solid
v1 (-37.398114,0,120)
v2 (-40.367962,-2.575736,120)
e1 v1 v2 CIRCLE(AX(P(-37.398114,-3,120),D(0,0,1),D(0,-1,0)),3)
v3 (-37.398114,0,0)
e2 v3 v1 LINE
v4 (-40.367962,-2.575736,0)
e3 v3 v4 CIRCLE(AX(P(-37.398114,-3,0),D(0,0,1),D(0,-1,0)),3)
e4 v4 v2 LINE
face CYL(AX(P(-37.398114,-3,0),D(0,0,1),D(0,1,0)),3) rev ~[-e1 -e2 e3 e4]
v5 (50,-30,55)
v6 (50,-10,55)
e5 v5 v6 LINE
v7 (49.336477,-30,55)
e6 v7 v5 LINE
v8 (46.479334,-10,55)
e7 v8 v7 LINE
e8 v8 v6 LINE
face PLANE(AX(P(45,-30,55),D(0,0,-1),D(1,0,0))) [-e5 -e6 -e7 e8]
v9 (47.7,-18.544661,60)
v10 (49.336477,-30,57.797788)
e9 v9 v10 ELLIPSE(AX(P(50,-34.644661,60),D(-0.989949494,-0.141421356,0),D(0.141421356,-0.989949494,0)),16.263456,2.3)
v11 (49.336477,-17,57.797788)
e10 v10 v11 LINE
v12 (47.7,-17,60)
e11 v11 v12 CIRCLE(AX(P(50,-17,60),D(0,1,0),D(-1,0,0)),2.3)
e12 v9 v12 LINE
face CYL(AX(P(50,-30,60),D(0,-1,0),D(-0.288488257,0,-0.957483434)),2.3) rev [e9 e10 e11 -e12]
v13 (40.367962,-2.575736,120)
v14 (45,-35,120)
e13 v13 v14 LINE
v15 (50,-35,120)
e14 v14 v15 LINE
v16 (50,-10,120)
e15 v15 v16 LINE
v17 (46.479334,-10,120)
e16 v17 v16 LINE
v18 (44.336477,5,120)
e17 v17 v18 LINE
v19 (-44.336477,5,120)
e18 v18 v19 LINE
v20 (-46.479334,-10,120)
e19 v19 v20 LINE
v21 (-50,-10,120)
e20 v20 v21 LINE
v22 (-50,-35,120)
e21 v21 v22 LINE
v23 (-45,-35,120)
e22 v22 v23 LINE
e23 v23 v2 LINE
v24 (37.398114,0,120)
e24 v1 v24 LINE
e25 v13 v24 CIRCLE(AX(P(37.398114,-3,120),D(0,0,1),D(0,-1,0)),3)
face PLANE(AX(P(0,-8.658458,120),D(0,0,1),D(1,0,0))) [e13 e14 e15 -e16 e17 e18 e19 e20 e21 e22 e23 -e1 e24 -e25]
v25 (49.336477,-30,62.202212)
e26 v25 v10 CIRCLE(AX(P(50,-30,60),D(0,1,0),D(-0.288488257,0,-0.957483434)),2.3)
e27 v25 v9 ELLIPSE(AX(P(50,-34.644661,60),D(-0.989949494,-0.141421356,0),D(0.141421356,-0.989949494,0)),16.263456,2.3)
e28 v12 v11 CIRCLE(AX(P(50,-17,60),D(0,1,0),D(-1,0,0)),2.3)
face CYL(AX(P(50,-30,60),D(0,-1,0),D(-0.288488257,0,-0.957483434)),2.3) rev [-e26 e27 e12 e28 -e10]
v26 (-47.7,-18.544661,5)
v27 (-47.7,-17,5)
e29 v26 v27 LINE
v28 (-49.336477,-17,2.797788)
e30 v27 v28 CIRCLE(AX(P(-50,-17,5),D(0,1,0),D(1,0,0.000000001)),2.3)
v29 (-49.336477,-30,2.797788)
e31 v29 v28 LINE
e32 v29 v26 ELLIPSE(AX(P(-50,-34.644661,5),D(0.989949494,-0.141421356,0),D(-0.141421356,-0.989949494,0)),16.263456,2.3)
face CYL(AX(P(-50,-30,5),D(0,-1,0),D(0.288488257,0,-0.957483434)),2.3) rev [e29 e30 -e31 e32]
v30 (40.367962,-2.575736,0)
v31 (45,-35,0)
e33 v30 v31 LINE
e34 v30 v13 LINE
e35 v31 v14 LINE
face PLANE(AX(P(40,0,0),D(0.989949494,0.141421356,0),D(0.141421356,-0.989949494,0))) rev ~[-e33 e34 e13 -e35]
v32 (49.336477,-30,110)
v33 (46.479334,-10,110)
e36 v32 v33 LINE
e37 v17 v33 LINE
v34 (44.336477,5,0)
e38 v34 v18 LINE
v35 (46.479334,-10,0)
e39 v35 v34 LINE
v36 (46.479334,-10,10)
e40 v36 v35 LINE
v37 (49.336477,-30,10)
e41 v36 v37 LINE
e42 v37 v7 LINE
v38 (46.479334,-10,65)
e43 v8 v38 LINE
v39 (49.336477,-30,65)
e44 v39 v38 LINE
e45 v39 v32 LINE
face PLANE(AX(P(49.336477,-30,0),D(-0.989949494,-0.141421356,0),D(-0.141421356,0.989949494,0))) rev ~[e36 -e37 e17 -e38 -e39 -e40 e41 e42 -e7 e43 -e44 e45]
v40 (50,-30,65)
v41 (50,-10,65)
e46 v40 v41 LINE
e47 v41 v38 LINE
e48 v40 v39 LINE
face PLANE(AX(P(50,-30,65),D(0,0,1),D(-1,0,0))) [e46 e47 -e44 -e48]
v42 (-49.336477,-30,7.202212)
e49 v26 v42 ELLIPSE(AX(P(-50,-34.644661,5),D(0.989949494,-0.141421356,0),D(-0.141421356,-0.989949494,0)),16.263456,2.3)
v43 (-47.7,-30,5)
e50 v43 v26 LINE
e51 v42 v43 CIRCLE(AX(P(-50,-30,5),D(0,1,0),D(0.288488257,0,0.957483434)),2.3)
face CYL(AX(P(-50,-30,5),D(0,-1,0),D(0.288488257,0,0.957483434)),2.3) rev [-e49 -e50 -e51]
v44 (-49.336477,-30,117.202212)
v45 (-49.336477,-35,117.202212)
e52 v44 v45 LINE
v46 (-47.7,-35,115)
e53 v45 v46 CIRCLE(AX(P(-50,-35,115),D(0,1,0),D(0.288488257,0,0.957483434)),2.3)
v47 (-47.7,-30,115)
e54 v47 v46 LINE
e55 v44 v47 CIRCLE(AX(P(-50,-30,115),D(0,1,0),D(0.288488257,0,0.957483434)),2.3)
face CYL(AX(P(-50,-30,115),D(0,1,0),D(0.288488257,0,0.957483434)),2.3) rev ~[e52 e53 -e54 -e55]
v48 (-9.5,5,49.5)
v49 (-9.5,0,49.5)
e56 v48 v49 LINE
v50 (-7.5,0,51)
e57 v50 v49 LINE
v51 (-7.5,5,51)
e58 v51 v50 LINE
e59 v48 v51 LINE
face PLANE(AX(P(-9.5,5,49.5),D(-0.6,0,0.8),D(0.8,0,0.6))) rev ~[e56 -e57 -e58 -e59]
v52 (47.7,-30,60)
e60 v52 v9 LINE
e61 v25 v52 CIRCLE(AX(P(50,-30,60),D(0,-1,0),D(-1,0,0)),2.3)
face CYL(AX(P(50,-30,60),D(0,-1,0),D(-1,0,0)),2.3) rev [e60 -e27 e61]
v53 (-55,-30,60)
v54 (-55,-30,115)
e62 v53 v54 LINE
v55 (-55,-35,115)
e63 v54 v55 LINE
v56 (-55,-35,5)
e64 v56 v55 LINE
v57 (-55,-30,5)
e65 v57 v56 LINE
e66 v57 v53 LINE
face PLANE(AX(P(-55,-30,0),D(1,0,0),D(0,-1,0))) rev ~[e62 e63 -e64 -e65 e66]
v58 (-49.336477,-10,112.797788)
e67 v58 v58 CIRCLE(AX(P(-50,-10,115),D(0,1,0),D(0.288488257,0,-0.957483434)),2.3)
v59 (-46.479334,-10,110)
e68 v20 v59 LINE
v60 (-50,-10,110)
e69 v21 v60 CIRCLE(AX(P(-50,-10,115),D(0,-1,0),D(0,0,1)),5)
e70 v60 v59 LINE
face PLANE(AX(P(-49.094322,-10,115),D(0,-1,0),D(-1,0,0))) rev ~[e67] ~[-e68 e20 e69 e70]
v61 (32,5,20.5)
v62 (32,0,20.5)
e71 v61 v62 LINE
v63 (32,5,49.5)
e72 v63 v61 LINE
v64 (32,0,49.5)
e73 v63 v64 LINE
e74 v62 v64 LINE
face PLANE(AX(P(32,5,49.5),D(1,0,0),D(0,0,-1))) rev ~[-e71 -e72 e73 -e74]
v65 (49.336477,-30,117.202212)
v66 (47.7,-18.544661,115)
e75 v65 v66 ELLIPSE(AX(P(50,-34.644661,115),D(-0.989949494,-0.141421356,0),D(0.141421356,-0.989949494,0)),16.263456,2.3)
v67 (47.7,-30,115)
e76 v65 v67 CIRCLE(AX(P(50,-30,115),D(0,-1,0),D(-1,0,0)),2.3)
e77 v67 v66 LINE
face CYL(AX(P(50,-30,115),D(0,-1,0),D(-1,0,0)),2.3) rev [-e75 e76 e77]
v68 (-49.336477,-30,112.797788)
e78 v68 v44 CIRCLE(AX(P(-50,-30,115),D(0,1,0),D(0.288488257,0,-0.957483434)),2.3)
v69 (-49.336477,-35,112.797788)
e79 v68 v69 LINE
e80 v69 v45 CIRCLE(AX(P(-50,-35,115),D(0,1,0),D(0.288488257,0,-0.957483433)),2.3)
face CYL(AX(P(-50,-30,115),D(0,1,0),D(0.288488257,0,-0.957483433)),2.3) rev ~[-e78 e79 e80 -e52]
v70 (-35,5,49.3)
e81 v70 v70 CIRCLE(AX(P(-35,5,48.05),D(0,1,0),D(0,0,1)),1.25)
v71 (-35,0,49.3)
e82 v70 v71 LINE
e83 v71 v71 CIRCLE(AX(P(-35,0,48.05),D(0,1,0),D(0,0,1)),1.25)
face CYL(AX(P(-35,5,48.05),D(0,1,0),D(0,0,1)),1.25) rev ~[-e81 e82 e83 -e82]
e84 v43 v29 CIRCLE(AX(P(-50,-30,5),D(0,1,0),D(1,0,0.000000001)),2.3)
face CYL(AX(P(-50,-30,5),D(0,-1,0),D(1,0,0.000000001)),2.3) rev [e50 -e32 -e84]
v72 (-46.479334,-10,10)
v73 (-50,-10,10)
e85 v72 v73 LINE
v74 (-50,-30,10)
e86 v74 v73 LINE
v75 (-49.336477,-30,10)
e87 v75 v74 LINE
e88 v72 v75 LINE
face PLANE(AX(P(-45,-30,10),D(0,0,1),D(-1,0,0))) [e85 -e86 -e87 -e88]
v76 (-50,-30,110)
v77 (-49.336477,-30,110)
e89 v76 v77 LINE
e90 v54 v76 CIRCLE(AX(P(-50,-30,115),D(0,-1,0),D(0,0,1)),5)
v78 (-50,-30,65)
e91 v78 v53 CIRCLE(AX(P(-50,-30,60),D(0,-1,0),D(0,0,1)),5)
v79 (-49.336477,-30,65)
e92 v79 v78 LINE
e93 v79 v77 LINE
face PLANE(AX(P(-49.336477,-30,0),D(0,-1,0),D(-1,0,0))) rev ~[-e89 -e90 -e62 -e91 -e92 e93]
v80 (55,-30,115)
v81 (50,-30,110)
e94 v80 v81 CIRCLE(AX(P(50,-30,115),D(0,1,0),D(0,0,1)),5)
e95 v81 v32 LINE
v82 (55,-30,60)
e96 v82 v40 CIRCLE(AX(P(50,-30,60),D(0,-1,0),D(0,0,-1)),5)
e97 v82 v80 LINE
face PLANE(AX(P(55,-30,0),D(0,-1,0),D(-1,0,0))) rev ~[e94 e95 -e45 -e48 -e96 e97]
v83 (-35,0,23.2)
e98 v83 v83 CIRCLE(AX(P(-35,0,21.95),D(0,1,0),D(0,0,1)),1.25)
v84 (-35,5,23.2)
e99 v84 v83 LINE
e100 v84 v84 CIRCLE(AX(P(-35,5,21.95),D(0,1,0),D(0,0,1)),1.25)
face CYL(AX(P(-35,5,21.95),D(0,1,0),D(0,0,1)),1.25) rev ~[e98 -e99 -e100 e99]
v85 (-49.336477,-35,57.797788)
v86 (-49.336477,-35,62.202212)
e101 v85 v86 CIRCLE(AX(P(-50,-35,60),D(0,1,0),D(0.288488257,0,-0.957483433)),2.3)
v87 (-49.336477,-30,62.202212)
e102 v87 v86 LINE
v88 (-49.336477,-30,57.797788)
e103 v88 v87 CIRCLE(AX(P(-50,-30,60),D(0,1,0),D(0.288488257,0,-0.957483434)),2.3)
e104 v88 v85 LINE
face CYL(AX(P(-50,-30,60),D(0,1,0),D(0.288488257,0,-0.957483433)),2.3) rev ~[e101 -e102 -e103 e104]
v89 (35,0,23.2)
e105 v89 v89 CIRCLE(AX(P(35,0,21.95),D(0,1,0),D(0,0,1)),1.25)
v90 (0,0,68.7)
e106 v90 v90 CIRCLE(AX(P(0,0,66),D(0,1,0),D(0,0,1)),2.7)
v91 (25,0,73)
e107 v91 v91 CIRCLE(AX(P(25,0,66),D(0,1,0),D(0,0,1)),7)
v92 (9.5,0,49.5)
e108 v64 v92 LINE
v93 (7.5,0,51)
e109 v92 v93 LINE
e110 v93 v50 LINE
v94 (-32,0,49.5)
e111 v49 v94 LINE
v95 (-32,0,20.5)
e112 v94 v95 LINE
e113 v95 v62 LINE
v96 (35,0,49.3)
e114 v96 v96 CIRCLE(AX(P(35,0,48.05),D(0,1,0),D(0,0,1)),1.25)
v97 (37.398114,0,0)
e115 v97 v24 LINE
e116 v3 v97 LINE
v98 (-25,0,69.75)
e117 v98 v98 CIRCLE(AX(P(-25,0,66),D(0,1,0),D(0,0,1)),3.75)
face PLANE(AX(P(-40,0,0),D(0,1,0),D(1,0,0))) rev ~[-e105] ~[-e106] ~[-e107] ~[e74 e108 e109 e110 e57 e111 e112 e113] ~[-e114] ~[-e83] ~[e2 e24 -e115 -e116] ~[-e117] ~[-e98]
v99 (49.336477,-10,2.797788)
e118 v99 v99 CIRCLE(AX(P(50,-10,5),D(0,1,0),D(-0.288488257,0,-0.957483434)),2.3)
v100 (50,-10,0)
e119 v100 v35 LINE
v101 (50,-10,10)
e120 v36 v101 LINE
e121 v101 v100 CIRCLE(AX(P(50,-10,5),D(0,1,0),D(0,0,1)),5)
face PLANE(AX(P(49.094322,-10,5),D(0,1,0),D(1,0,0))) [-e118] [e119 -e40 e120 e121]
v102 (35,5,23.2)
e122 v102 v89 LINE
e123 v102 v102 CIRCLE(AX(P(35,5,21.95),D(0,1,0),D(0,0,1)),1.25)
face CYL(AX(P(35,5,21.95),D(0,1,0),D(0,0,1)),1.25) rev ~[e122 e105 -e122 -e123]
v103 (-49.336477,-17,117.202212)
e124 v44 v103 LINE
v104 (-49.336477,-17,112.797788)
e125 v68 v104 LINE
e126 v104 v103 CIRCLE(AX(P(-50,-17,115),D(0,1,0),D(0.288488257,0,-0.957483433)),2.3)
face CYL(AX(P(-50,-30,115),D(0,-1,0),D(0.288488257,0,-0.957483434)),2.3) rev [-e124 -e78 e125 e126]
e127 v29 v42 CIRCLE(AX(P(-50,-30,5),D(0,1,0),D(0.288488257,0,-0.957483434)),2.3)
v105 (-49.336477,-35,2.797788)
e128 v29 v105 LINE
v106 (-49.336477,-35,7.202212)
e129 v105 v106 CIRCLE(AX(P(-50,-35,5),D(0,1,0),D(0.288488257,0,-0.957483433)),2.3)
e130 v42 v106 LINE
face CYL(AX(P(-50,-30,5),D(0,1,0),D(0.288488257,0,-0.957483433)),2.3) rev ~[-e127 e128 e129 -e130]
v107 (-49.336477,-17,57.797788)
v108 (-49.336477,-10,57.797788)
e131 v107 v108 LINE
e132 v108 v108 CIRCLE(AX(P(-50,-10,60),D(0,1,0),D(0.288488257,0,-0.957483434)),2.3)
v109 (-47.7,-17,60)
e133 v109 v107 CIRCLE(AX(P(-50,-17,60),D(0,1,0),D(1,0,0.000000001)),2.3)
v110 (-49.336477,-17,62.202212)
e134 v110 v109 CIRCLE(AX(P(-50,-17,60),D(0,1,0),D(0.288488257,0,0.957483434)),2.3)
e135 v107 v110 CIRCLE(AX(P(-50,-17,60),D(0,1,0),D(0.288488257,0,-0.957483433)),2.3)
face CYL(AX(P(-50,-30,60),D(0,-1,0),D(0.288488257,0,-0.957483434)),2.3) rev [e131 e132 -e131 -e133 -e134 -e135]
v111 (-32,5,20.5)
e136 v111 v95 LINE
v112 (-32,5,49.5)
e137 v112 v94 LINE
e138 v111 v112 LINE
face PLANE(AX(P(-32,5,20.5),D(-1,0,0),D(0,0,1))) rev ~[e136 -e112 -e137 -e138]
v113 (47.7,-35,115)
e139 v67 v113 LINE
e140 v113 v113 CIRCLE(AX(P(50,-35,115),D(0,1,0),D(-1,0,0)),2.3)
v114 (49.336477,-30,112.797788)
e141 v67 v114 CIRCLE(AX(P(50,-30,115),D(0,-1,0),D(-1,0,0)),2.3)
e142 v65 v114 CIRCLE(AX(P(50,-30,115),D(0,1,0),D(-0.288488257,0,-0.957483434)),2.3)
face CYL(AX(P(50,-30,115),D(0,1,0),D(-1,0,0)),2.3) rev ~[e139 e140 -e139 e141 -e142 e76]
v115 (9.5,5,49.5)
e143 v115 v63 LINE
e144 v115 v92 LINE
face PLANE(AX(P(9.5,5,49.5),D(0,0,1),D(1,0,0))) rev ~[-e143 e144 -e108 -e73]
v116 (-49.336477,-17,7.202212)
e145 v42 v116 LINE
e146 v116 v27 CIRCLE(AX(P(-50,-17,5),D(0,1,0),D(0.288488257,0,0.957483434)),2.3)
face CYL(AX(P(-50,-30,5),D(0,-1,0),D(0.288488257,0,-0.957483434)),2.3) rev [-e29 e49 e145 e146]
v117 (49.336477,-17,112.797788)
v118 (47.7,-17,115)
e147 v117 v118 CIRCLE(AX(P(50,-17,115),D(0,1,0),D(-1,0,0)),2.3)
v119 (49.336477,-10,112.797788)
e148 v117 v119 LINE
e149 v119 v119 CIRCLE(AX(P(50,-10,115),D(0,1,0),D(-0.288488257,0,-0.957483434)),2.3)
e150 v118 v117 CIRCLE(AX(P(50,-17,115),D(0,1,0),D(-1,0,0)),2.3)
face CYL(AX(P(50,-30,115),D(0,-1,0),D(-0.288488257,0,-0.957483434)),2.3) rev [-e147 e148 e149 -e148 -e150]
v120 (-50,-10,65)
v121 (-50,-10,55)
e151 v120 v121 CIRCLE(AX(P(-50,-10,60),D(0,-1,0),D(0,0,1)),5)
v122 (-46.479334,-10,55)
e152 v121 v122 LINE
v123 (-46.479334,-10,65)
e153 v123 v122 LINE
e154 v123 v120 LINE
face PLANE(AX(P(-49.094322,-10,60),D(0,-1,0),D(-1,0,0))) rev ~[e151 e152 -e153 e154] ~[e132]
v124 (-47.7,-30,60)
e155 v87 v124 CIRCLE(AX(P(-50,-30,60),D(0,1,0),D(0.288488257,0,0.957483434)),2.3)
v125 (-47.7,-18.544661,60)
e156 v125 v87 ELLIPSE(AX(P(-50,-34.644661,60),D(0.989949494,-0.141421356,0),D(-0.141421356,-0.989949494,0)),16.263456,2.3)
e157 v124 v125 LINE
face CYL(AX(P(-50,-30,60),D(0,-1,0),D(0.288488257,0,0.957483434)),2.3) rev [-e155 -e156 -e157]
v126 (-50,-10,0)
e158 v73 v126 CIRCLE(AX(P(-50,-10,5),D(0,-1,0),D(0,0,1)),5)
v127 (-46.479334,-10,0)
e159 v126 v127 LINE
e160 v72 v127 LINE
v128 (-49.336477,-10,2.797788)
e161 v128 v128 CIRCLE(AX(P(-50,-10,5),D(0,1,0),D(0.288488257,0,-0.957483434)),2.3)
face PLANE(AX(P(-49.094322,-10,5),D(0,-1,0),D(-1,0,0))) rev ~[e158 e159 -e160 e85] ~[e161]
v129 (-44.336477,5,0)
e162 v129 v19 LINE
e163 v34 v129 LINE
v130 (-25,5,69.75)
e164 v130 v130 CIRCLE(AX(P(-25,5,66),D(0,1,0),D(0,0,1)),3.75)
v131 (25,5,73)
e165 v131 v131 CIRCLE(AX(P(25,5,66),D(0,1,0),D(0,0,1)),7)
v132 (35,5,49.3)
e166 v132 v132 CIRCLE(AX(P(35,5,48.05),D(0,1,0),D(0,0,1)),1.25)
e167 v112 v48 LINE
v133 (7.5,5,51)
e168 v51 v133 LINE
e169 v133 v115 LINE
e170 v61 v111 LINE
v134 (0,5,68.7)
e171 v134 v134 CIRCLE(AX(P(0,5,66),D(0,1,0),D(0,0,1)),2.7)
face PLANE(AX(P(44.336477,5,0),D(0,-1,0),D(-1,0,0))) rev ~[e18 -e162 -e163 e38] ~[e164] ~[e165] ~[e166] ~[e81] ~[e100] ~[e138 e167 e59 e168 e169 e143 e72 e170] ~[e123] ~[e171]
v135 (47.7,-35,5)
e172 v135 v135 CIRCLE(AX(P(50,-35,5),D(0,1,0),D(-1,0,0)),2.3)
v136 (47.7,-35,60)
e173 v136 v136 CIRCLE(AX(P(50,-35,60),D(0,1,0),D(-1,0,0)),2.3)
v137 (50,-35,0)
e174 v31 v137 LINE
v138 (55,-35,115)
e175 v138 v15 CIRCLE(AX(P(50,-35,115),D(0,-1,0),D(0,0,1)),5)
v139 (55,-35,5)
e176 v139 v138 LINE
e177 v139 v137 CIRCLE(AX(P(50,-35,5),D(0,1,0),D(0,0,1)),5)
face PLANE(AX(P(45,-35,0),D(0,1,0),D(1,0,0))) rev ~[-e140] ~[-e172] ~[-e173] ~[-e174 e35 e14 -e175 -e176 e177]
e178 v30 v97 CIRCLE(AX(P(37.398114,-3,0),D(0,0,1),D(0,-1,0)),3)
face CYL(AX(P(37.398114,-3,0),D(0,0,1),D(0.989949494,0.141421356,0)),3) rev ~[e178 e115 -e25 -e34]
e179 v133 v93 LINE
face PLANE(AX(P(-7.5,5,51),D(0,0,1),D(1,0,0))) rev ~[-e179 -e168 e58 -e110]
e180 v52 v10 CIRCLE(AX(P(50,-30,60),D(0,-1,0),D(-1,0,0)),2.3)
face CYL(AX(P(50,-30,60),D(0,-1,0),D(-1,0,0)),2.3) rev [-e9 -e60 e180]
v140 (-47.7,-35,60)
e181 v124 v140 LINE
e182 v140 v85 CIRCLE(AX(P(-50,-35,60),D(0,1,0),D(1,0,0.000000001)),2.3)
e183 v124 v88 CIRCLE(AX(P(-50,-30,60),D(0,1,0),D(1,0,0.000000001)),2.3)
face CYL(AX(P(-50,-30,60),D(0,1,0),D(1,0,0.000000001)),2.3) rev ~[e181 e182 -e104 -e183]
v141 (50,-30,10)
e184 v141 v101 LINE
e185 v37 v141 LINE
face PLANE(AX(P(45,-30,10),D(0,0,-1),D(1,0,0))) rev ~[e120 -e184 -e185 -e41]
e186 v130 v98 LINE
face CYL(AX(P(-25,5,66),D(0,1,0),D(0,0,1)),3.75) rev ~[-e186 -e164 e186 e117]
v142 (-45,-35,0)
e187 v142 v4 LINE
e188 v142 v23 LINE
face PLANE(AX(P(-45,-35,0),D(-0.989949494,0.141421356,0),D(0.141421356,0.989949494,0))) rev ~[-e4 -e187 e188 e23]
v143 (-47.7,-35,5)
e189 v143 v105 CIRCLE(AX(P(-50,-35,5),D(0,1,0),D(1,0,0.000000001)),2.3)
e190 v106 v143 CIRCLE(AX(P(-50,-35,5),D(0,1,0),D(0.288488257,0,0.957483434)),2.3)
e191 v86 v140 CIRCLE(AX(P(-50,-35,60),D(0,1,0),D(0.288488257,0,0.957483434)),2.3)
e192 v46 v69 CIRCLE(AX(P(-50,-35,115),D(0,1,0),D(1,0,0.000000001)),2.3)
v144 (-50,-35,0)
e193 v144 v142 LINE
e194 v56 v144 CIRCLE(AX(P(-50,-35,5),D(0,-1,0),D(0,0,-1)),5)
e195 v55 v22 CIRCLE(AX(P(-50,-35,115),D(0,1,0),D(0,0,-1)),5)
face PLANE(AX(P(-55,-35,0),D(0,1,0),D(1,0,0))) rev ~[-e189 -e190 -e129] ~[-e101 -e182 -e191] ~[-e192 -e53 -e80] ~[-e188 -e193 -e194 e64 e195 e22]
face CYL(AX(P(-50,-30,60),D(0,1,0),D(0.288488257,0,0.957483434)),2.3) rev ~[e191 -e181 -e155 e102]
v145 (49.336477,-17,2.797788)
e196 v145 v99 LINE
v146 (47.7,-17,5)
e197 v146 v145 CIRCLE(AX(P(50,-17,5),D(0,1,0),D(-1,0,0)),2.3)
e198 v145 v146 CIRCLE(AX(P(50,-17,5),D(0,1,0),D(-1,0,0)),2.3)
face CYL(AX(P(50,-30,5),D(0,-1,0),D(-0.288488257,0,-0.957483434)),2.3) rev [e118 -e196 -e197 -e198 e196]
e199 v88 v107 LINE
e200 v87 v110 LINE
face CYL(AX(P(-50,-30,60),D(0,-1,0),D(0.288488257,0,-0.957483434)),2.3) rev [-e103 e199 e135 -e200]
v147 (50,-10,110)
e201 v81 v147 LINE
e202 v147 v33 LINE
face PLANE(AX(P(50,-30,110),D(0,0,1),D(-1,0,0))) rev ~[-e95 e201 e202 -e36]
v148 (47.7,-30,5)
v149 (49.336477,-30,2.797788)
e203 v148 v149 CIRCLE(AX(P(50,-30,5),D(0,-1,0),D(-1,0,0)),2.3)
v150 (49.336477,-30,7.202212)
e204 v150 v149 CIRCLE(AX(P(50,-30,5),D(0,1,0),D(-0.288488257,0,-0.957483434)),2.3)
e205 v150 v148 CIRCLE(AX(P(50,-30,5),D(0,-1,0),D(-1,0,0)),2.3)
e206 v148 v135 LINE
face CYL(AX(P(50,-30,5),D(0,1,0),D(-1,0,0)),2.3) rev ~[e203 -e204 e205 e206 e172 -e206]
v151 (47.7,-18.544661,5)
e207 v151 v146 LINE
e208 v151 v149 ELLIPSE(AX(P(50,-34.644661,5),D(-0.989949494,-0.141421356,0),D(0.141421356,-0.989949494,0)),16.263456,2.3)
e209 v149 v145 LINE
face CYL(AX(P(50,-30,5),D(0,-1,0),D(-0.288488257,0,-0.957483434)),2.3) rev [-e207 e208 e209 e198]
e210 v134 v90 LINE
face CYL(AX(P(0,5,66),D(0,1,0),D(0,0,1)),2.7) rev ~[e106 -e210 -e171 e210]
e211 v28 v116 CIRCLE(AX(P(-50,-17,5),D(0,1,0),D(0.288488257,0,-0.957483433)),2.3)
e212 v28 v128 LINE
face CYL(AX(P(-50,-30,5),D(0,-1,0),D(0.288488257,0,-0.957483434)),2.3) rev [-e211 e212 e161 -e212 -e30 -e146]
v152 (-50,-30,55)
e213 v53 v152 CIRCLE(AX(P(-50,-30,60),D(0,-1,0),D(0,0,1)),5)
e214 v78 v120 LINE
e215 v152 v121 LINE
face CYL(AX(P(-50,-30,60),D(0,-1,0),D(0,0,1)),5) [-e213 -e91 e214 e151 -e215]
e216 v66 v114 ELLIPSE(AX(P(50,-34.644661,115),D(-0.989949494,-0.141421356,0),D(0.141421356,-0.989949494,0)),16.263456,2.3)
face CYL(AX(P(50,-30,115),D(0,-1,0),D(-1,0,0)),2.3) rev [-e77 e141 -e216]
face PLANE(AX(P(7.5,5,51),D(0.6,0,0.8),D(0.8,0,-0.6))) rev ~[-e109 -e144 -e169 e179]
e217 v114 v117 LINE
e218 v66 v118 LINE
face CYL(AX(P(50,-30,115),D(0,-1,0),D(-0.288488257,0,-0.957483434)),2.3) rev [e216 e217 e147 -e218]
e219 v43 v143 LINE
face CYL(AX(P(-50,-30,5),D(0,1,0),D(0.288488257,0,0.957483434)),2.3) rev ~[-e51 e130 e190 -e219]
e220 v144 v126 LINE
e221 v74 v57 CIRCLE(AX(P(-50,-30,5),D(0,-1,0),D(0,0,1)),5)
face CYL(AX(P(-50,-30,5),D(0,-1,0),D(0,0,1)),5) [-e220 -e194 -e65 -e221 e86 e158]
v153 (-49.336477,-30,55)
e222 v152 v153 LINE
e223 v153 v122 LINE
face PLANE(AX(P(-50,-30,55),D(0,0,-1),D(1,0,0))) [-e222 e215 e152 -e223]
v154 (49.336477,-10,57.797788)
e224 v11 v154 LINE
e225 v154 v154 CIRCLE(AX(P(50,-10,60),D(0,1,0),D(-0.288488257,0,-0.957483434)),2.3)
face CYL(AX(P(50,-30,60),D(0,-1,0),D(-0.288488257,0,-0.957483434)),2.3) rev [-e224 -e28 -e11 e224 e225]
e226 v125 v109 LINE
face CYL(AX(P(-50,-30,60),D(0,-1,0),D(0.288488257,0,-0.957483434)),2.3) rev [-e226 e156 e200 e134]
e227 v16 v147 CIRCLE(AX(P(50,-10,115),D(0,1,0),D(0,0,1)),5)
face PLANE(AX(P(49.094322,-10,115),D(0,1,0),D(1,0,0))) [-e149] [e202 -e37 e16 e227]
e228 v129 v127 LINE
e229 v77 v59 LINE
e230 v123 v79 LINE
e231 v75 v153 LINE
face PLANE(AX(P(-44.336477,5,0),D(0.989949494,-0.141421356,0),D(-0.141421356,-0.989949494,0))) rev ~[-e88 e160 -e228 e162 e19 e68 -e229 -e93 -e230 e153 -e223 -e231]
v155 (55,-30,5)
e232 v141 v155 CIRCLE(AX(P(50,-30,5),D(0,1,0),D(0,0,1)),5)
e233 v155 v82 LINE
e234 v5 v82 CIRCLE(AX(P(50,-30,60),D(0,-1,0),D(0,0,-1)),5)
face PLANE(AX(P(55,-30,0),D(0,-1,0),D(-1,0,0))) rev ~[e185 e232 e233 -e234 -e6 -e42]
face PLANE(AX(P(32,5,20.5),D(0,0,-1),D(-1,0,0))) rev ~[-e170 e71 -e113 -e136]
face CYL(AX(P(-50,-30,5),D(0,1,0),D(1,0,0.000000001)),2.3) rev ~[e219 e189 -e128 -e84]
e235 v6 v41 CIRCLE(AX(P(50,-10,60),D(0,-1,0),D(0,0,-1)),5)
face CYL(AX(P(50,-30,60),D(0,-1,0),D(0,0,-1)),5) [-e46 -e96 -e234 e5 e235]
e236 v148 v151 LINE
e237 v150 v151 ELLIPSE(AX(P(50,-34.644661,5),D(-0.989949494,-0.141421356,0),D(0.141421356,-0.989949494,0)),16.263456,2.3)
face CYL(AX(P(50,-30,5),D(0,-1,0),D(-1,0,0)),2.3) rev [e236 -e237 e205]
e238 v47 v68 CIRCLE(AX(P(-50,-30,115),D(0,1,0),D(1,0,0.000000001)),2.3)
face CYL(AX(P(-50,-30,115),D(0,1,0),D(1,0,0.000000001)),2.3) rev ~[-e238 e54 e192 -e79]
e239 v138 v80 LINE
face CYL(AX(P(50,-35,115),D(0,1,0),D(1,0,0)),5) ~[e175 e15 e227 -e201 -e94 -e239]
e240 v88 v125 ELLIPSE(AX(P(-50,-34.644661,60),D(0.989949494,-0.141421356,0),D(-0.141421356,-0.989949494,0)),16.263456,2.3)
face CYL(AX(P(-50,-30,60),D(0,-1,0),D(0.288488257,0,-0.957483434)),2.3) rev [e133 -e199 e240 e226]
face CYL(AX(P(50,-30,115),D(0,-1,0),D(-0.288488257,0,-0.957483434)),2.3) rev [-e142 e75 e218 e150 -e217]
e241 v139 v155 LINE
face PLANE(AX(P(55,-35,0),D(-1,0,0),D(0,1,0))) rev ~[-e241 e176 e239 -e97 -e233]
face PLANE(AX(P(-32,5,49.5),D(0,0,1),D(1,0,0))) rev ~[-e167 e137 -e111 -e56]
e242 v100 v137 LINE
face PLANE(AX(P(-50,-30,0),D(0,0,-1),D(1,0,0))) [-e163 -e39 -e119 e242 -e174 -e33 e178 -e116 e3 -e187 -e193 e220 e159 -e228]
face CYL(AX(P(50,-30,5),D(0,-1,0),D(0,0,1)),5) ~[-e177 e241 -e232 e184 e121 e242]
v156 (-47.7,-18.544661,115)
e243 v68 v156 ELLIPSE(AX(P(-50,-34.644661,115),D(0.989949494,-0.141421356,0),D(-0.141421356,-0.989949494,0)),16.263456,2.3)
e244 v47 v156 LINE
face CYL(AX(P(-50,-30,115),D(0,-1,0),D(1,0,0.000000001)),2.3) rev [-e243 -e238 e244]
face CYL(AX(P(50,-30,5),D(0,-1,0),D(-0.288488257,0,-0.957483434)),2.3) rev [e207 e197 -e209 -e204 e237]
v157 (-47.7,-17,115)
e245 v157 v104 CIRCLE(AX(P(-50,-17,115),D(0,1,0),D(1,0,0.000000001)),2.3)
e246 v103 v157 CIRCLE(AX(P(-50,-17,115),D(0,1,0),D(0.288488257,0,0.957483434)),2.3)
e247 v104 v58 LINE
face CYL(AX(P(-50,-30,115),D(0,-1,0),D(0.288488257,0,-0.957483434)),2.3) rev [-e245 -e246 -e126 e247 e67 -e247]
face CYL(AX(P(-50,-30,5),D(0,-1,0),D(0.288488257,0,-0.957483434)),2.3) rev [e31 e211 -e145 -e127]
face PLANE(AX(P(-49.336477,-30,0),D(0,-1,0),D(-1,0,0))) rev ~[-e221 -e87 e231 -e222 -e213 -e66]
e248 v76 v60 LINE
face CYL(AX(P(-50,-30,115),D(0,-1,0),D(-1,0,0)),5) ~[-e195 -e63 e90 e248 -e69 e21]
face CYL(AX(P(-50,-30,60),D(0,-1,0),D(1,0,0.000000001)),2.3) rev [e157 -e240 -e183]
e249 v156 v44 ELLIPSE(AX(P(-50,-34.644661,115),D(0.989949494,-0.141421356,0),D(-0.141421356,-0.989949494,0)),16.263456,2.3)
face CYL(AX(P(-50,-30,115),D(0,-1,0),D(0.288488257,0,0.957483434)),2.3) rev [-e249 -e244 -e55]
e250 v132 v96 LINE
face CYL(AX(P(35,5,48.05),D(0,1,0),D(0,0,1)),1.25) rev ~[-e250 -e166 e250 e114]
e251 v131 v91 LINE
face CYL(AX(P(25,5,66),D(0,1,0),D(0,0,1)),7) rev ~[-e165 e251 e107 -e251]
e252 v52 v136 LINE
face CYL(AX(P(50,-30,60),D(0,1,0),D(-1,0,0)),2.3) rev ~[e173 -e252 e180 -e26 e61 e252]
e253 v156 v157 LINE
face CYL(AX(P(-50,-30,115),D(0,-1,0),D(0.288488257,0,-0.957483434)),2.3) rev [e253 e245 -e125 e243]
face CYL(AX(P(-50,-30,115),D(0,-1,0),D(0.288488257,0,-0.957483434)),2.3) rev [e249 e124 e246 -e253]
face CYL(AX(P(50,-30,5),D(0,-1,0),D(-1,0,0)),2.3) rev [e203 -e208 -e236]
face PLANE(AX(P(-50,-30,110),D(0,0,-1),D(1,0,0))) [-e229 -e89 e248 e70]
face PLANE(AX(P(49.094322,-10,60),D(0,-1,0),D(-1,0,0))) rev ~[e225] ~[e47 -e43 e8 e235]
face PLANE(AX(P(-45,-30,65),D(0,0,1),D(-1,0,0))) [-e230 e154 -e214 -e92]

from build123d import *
from build123d.topology import SkipClean

# Parameters (mm, degrees)
BOSS_EXTRUDE1_DEPTH            = 120
FILLET1_R                      = 5
CUT_EXTRUDE1_REACH             = 139.931
SKETCH2_R                      = 1.25
SKETCH2_R_2                    = 7
SKETCH2_R_3                    = 2.7
SKETCH2_R_4                    = 3.75
SKETCH3_R                      = 2.3
BOSS_EXTRUDE2_DEPTH            = 20
CUT_EXTRUDE2_REACH             = 138.565
SKETCH3_4_R                    = 2.3
CUT_EXTRUDE2_DIRECTION_2_DEPTH = 13
FILLET2_R                      = 3


with BuildPart() as part:
    # Sketch1 → Boss-Extrude1 (new body)
    with BuildSketch(Plane.XY):
        Polygon((-45, -35), (-40, 0), (40, 0), (45, -35), (55, -35), (55, -30), (49.336477008, -30), (44.336477008, 5), (-44.336477008, 5), (-49.336477008, -30), (-55, -30), (-55, -35), align=None)
    extrude(amount=BOSS_EXTRUDE1_DEPTH)

    # Fillet1
    fillet1_edges = [part.edges().sort_by_distance(p)[0] for p in [
        (-55, -32.5, 0),
        (55, -32.5, 0),
        (55, -32.5, 120),
        (-55, -32.5, 120),
    ]]
    fillet(fillet1_edges, radius=FILLET1_R)

    # Sketch2 → Cut-Extrude1 (cut, up to next)
    with BuildSketch(Plane(origin=(0, 5, 0), x_dir=(1, 0, 0), z_dir=(0, 1, 0)), mode=Mode.PRIVATE) as cut_extrude1_sk1:
        Polygon((32, -20.5), (-32, -20.5), (-32, -49.5), (-9.5, -49.5), (-7.5, -51), (7.5, -51), (9.5, -49.5), (32, -49.5), align=None)
    cut_extrude1_tool1 = extrude(cut_extrude1_sk1.sketch, amount=-CUT_EXTRUDE1_REACH, mode=Mode.PRIVATE) & part.part
    # Sketch2 → Cut-Extrude1 (cut, up to next)
    with BuildSketch(Plane(origin=(0, 5, 0), x_dir=(1, 0, 0), z_dir=(0, 1, 0)), mode=Mode.PRIVATE) as cut_extrude1_sk2:
        with Locations(Location((-35, -21.95, 0), (0, 0, 270))):
            Circle(SKETCH2_R)
    cut_extrude1_tool2 = extrude(cut_extrude1_sk2.sketch, amount=-CUT_EXTRUDE1_REACH, mode=Mode.PRIVATE) & part.part
    # Sketch2 → Cut-Extrude1 (cut, up to next)
    with BuildSketch(Plane(origin=(0, 5, 0), x_dir=(1, 0, 0), z_dir=(0, 1, 0)), mode=Mode.PRIVATE) as cut_extrude1_sk3:
        with Locations(Location((-35, -48.05, 0), (0, 0, 270))):
            Circle(SKETCH2_R)
    cut_extrude1_tool3 = extrude(cut_extrude1_sk3.sketch, amount=-CUT_EXTRUDE1_REACH, mode=Mode.PRIVATE) & part.part
    # Sketch2 → Cut-Extrude1 (cut, up to next)
    with BuildSketch(Plane(origin=(0, 5, 0), x_dir=(1, 0, 0), z_dir=(0, 1, 0)), mode=Mode.PRIVATE) as cut_extrude1_sk4:
        with Locations(Location((35, -21.95, 0), (0, 0, 270))):
            Circle(SKETCH2_R)
    cut_extrude1_tool4 = extrude(cut_extrude1_sk4.sketch, amount=-CUT_EXTRUDE1_REACH, mode=Mode.PRIVATE) & part.part
    # Sketch2 → Cut-Extrude1 (cut, up to next)
    with BuildSketch(Plane(origin=(0, 5, 0), x_dir=(1, 0, 0), z_dir=(0, 1, 0)), mode=Mode.PRIVATE) as cut_extrude1_sk5:
        with Locations(Location((25, -66, 0), (0, 0, 270))):
            Circle(SKETCH2_R_2)
    cut_extrude1_tool5 = extrude(cut_extrude1_sk5.sketch, amount=-CUT_EXTRUDE1_REACH, mode=Mode.PRIVATE) & part.part
    # Sketch2 → Cut-Extrude1 (cut, up to next)
    with BuildSketch(Plane(origin=(0, 5, 0), x_dir=(1, 0, 0), z_dir=(0, 1, 0)), mode=Mode.PRIVATE) as cut_extrude1_sk6:
        with Locations(Location((0, -66, 0), (0, 0, 270))):
            Circle(SKETCH2_R_3)
    cut_extrude1_tool6 = extrude(cut_extrude1_sk6.sketch, amount=-CUT_EXTRUDE1_REACH, mode=Mode.PRIVATE) & part.part
    # Sketch2 → Cut-Extrude1 (cut, up to next)
    with BuildSketch(Plane(origin=(0, 5, 0), x_dir=(1, 0, 0), z_dir=(0, 1, 0)), mode=Mode.PRIVATE) as cut_extrude1_sk7:
        with Locations(Location((-25, -66, 0), (0, 0, 270))):
            Circle(SKETCH2_R_4)
    cut_extrude1_tool7 = extrude(cut_extrude1_sk7.sketch, amount=-CUT_EXTRUDE1_REACH, mode=Mode.PRIVATE) & part.part
    # Sketch2 → Cut-Extrude1 (cut, up to next)
    with BuildSketch(Plane(origin=(0, 5, 0), x_dir=(1, 0, 0), z_dir=(0, 1, 0)), mode=Mode.PRIVATE) as cut_extrude1_sk8:
        with Locations(Location((35, -48.05, 0), (0, 0, 270))):
            Circle(SKETCH2_R)
    cut_extrude1_tool8 = extrude(cut_extrude1_sk8.sketch, amount=-CUT_EXTRUDE1_REACH, mode=Mode.PRIVATE) & part.part
    add(cut_extrude1_tool1.solids().sort_by_distance((0, 5, 35.206285))[0], mode=Mode.SUBTRACT)
    add(cut_extrude1_tool2.solids().sort_by_distance((-35, 5, 21.95))[0], mode=Mode.SUBTRACT)
    add(cut_extrude1_tool3.solids().sort_by_distance((-35, 5, 48.05))[0], mode=Mode.SUBTRACT)
    add(cut_extrude1_tool4.solids().sort_by_distance((35, 5, 21.95))[0], mode=Mode.SUBTRACT)
    add(cut_extrude1_tool5.solids().sort_by_distance((25, 5, 66))[0], mode=Mode.SUBTRACT)
    add(cut_extrude1_tool6.solids().sort_by_distance((0, 5, 66))[0], mode=Mode.SUBTRACT)
    add(cut_extrude1_tool7.solids().sort_by_distance((-25, 5, 66))[0], mode=Mode.SUBTRACT)
    add(cut_extrude1_tool8.solids().sort_by_distance((35, 5, 48.05))[0], mode=Mode.SUBTRACT)

    # Sketch3 → Boss-Extrude2 (add)
    # profile 1 of 6: a face of its own
    with SkipClean():  # the faces are left unmerged after this step: merging them gives an invalid solid
        with BuildSketch(Plane(origin=(0, -30, 0), x_dir=(1, 0, 0), z_dir=(0, 1, 0))):
            with BuildLine():
                Line((-50, 0), (-45, 0))
                Line((-45, 0), (-45, -10))
                Line((-45, -10), (-50, -10))
                ThreePointArc((-50, -10), (-55, -5), (-50, 0))
            make_face()
            with Locations(Location((-50, -5, 0), (0, 0, 73.232528186))):
                Circle(SKETCH3_R, mode=Mode.SUBTRACT)
        # profile 2 of 6: a face of its own
        with BuildSketch(Plane(origin=(0, -30, 0), x_dir=(1, 0, 0), z_dir=(0, 1, 0))):
            with BuildLine():
                Line((-50, -55), (-45, -55))
                Line((-45, -55), (-45, -65))
                Line((-45, -65), (-50, -65))
                ThreePointArc((-50, -65), (-55, -60), (-50, -55))
            make_face()
            with Locations(Location((-50, -60, 0), (0, 0, 73.232528186))):
                Circle(SKETCH3_R, mode=Mode.SUBTRACT)
        # profile 3 of 6: a face of its own
        with BuildSketch(Plane(origin=(0, -30, 0), x_dir=(1, 0, 0), z_dir=(0, 1, 0))):
            with BuildLine():
                Line((-50, -110), (-45, -110))
                Line((-45, -110), (-45, -120))
                Line((-45, -120), (-50, -120))
                ThreePointArc((-50, -120), (-55, -115), (-50, -110))
            make_face()
            with Locations(Location((-50, -115, 0), (0, 0, 73.232528186))):
                Circle(SKETCH3_R, mode=Mode.SUBTRACT)
        # profile 4 of 6: a face of its own
        with BuildSketch(Plane(origin=(0, -30, 0), x_dir=(1, 0, 0), z_dir=(0, 1, 0))):
            with BuildLine():
                Line((50, -110), (45, -110))
                Line((45, -110), (45, -120))
                Line((45, -120), (50, -120))
                ThreePointArc((50, -120), (55, -115), (50, -110))
            make_face()
            with Locations(Location((50, -115, 0), (0, 0, 106.767471814))):
                Circle(SKETCH3_R, mode=Mode.SUBTRACT)
        # profile 5 of 6: a face of its own
        with BuildSketch(Plane(origin=(0, -30, 0), x_dir=(1, 0, 0), z_dir=(0, 1, 0))):
            with BuildLine():
                Line((50, -65), (45, -65))
                Line((45, -65), (45, -55))
                Line((45, -55), (50, -55))
                ThreePointArc((50, -55), (55, -60), (50, -65))
            make_face()
            with Locations(Location((50, -60, 0), (0, 0, 106.767471814))):
                Circle(SKETCH3_R, mode=Mode.SUBTRACT)
        # profile 6 of 6: a face of its own
        with BuildSketch(Plane(origin=(0, -30, 0), x_dir=(1, 0, 0), z_dir=(0, 1, 0))):
            with BuildLine():
                Line((50, 0), (45, 0))
                Line((45, 0), (45, -10))
                Line((45, -10), (50, -10))
                ThreePointArc((50, -10), (55, -5), (50, 0))
            make_face()
            with Locations(Location((50, -5, 0), (0, 0, 106.767471814))):
                Circle(SKETCH3_R, mode=Mode.SUBTRACT)
        extrude(amount=BOSS_EXTRUDE2_DEPTH)

    # Sketch3<4> → Cut-Extrude2 (cut, up to next)
    with BuildSketch(Plane(origin=(0, -30, 0), x_dir=(1, 0, 0), z_dir=(0, 1, 0)), mode=Mode.PRIVATE) as cut_extrude2_sk1:
        with BuildLine():
            Line((-49.336477008, -7.202211897), (-49.336477008, -2.797788103))
            ThreePointArc((-49.336477008, -2.797788103), (-52.3, -5), (-49.336477008, -7.202211897))
        make_face()
    cut_extrude2_tool1 = extrude(cut_extrude2_sk1.sketch, amount=-CUT_EXTRUDE2_REACH, mode=Mode.PRIVATE) & part.part
    # Sketch3<4> → Cut-Extrude2 (cut, up to next)
    with BuildSketch(Plane(origin=(0, -30, 0), x_dir=(1, 0, 0), z_dir=(0, 1, 0)), mode=Mode.PRIVATE) as cut_extrude2_sk2:
        with BuildLine():
            ThreePointArc((-47.7, -5), (-48.153909146, -3.628158697), (-49.336477008, -2.797788103))
            Line((-49.336477008, -2.797788103), (-49.336477008, -7.202211897))
            ThreePointArc((-49.336477008, -7.202211897), (-48.153909146, -6.371841303), (-47.7, -5))
        make_face()
    cut_extrude2_tool2 = extrude(cut_extrude2_sk2.sketch, amount=-CUT_EXTRUDE2_REACH, mode=Mode.PRIVATE) & part.part
    # Sketch3<4> → Cut-Extrude2 (cut, up to next)
    with BuildSketch(Plane(origin=(0, -30, 0), x_dir=(1, 0, 0), z_dir=(0, 1, 0)), mode=Mode.PRIVATE) as cut_extrude2_sk3:
        with BuildLine():
            Line((-49.336477008, -62.202211897), (-49.336477008, -57.797788103))
            ThreePointArc((-49.336477008, -57.797788103), (-52.3, -60), (-49.336477008, -62.202211897))
        make_face()
    cut_extrude2_tool3 = extrude(cut_extrude2_sk3.sketch, amount=-CUT_EXTRUDE2_REACH, mode=Mode.PRIVATE) & part.part
    # Sketch3<4> → Cut-Extrude2 (cut, up to next)
    with BuildSketch(Plane(origin=(0, -30, 0), x_dir=(1, 0, 0), z_dir=(0, 1, 0)), mode=Mode.PRIVATE) as cut_extrude2_sk4:
        with BuildLine():
            ThreePointArc((-47.7, -60), (-48.153909146, -58.628158697), (-49.336477008, -57.797788103))
            Line((-49.336477008, -57.797788103), (-49.336477008, -62.202211897))
            ThreePointArc((-49.336477008, -62.202211897), (-48.153909146, -61.371841303), (-47.7, -60))
        make_face()
    cut_extrude2_tool4 = extrude(cut_extrude2_sk4.sketch, amount=-CUT_EXTRUDE2_REACH, mode=Mode.PRIVATE) & part.part
    # Sketch3<4> → Cut-Extrude2 (cut, up to next)
    with BuildSketch(Plane(origin=(0, -30, 0), x_dir=(1, 0, 0), z_dir=(0, 1, 0)), mode=Mode.PRIVATE) as cut_extrude2_sk5:
        with BuildLine():
            Line((-49.336477008, -62.202211897), (-49.336477008, -57.797788103))
            ThreePointArc((-49.336477008, -57.797788103), (-52.3, -60), (-49.336477008, -62.202211897))
        make_face()
    cut_extrude2_tool5 = extrude(cut_extrude2_sk5.sketch, amount=-CUT_EXTRUDE2_REACH, mode=Mode.PRIVATE) & part.part
    # Sketch3<4> → Cut-Extrude2 (cut, up to next)
    with BuildSketch(Plane(origin=(0, -30, 0), x_dir=(1, 0, 0), z_dir=(0, 1, 0)), mode=Mode.PRIVATE) as cut_extrude2_sk6:
        with BuildLine():
            ThreePointArc((-47.7, -60), (-48.153909146, -58.628158697), (-49.336477008, -57.797788103))
            Line((-49.336477008, -57.797788103), (-49.336477008, -62.202211897))
            ThreePointArc((-49.336477008, -62.202211897), (-48.153909146, -61.371841303), (-47.7, -60))
        make_face()
    cut_extrude2_tool6 = extrude(cut_extrude2_sk6.sketch, amount=-CUT_EXTRUDE2_REACH, mode=Mode.PRIVATE) & part.part
    # Sketch3<4> → Cut-Extrude2 (cut, up to next)
    with BuildSketch(Plane(origin=(0, -30, 0), x_dir=(1, 0, 0), z_dir=(0, 1, 0)), mode=Mode.PRIVATE) as cut_extrude2_sk7:
        with BuildLine():
            Line((-49.336477008, -7.202211897), (-49.336477008, -2.797788103))
            ThreePointArc((-49.336477008, -2.797788103), (-52.3, -5), (-49.336477008, -7.202211897))
        make_face()
    cut_extrude2_tool7 = extrude(cut_extrude2_sk7.sketch, amount=-CUT_EXTRUDE2_REACH, mode=Mode.PRIVATE) & part.part
    # Sketch3<4> → Cut-Extrude2 (cut, up to next)
    with BuildSketch(Plane(origin=(0, -30, 0), x_dir=(1, 0, 0), z_dir=(0, 1, 0)), mode=Mode.PRIVATE) as cut_extrude2_sk8:
        with BuildLine():
            ThreePointArc((-47.7, -5), (-48.153909146, -3.628158697), (-49.336477008, -2.797788103))
            Line((-49.336477008, -2.797788103), (-49.336477008, -7.202211897))
            ThreePointArc((-49.336477008, -7.202211897), (-48.153909146, -6.371841303), (-47.7, -5))
        make_face()
    cut_extrude2_tool8 = extrude(cut_extrude2_sk8.sketch, amount=-CUT_EXTRUDE2_REACH, mode=Mode.PRIVATE) & part.part
    # Sketch3<4> → Cut-Extrude2 (cut, up to next)
    with BuildSketch(Plane(origin=(0, -30, 0), x_dir=(1, 0, 0), z_dir=(0, 1, 0)), mode=Mode.PRIVATE) as cut_extrude2_sk9:
        with BuildLine():
            Line((-49.336477008, -117.202211897), (-49.336477008, -112.797788103))
            ThreePointArc((-49.336477008, -112.797788103), (-52.3, -115), (-49.336477008, -117.202211897))
        make_face()
    cut_extrude2_tool9 = extrude(cut_extrude2_sk9.sketch, amount=-CUT_EXTRUDE2_REACH, mode=Mode.PRIVATE) & part.part
    # Sketch3<4> → Cut-Extrude2 (cut, up to next)
    with BuildSketch(Plane(origin=(0, -30, 0), x_dir=(1, 0, 0), z_dir=(0, 1, 0)), mode=Mode.PRIVATE) as cut_extrude2_sk10:
        with BuildLine():
            ThreePointArc((-47.7, -115), (-48.153909146, -113.628158697), (-49.336477008, -112.797788103))
            Line((-49.336477008, -112.797788103), (-49.336477008, -117.202211897))
            ThreePointArc((-49.336477008, -117.202211897), (-48.153909146, -116.371841303), (-47.7, -115))
        make_face()
    cut_extrude2_tool10 = extrude(cut_extrude2_sk10.sketch, amount=-CUT_EXTRUDE2_REACH, mode=Mode.PRIVATE) & part.part
    # Sketch3<4> → Cut-Extrude2 (cut, up to next)
    with BuildSketch(Plane(origin=(0, -30, 0), x_dir=(1, 0, 0), z_dir=(0, 1, 0)), mode=Mode.PRIVATE) as cut_extrude2_sk11:
        with BuildLine():
            Line((-49.336477008, -117.202211897), (-49.336477008, -112.797788103))
            ThreePointArc((-49.336477008, -112.797788103), (-52.3, -115), (-49.336477008, -117.202211897))
        make_face()
    cut_extrude2_tool11 = extrude(cut_extrude2_sk11.sketch, amount=-CUT_EXTRUDE2_REACH, mode=Mode.PRIVATE) & part.part
    # Sketch3<4> → Cut-Extrude2 (cut, up to next)
    with BuildSketch(Plane(origin=(0, -30, 0), x_dir=(1, 0, 0), z_dir=(0, 1, 0)), mode=Mode.PRIVATE) as cut_extrude2_sk12:
        with BuildLine():
            ThreePointArc((-47.7, -115), (-48.153909146, -113.628158697), (-49.336477008, -112.797788103))
            Line((-49.336477008, -112.797788103), (-49.336477008, -117.202211897))
            ThreePointArc((-49.336477008, -117.202211897), (-48.153909146, -116.371841303), (-47.7, -115))
        make_face()
    cut_extrude2_tool12 = extrude(cut_extrude2_sk12.sketch, amount=-CUT_EXTRUDE2_REACH, mode=Mode.PRIVATE) & part.part
    # Sketch3<4> → Cut-Extrude2 (cut, up to next)
    with BuildSketch(Plane(origin=(0, -30, 0), x_dir=(1, 0, 0), z_dir=(0, 1, 0)), mode=Mode.PRIVATE) as cut_extrude2_sk13:
        with Locations(Location((50, -115, 0), (0, 0, 180))):
            Circle(SKETCH3_4_R)
    cut_extrude2_tool13 = extrude(cut_extrude2_sk13.sketch, amount=-CUT_EXTRUDE2_REACH, mode=Mode.PRIVATE) & part.part
    # Sketch3<4> → Cut-Extrude2 (cut, up to next)
    with BuildSketch(Plane(origin=(0, -30, 0), x_dir=(1, 0, 0), z_dir=(0, 1, 0)), mode=Mode.PRIVATE) as cut_extrude2_sk14:
        with Locations(Location((50, -60, 0), (0, 0, 180))):
            Circle(SKETCH3_4_R)
    cut_extrude2_tool14 = extrude(cut_extrude2_sk14.sketch, amount=-CUT_EXTRUDE2_REACH, mode=Mode.PRIVATE) & part.part
    # Sketch3<4> → Cut-Extrude2 (cut, up to next)
    with BuildSketch(Plane(origin=(0, -30, 0), x_dir=(1, 0, 0), z_dir=(0, 1, 0)), mode=Mode.PRIVATE) as cut_extrude2_sk15:
        with Locations(Location((50, -5, 0), (0, 0, 180))):
            Circle(SKETCH3_4_R)
    cut_extrude2_tool15 = extrude(cut_extrude2_sk15.sketch, amount=-CUT_EXTRUDE2_REACH, mode=Mode.PRIVATE) & part.part
    add(cut_extrude2_tool1.solids().sort_by_distance((-50.629049, -30, 5))[0], mode=Mode.SUBTRACT)
    add(cut_extrude2_tool2.solids().sort_by_distance((-48.656633, -30, 5))[0], mode=Mode.SUBTRACT)
    add(cut_extrude2_tool3.solids().sort_by_distance((-50.629049, -30, 60))[0], mode=Mode.SUBTRACT)
    add(cut_extrude2_tool4.solids().sort_by_distance((-48.656633, -30, 60))[0], mode=Mode.SUBTRACT)
    add(cut_extrude2_tool5.solids().sort_by_distance((-50.629049, -30, 60))[0], mode=Mode.SUBTRACT)
    add(cut_extrude2_tool6.solids().sort_by_distance((-48.656633, -30, 60))[0], mode=Mode.SUBTRACT)
    add(cut_extrude2_tool7.solids().sort_by_distance((-50.629049, -30, 5))[0], mode=Mode.SUBTRACT)
    add(cut_extrude2_tool8.solids().sort_by_distance((-48.656633, -30, 5))[0], mode=Mode.SUBTRACT)
    add(cut_extrude2_tool9.solids().sort_by_distance((-50.629049, -30, 115))[0], mode=Mode.SUBTRACT)
    add(cut_extrude2_tool10.solids().sort_by_distance((-48.656633, -30, 115))[0], mode=Mode.SUBTRACT)
    add(cut_extrude2_tool11.solids().sort_by_distance((-50.629049, -30, 115))[0], mode=Mode.SUBTRACT)
    add(cut_extrude2_tool12.solids().sort_by_distance((-48.656633, -30, 115))[0], mode=Mode.SUBTRACT)
    add(cut_extrude2_tool13.solids().sort_by_distance((50, -30, 115))[0], mode=Mode.SUBTRACT)
    add(cut_extrude2_tool14.solids().sort_by_distance((50, -30, 60))[0], mode=Mode.SUBTRACT)
    add(cut_extrude2_tool15.solids().sort_by_distance((50, -30, 5))[0], mode=Mode.SUBTRACT)

    # Sketch3<4> → Cut-Extrude2 direction 2 (cut)
    with SkipClean():  # the faces are left unmerged after this step: merging them gives an invalid solid
        with BuildSketch(Plane(origin=(0, -30, 0), x_dir=(1, 0, 0), z_dir=(0, 1, 0))):
            with BuildLine():
                Line((-49.336477008, -7.202211897), (-49.336477008, -2.797788103))
                ThreePointArc((-49.336477008, -2.797788103), (-52.3, -5), (-49.336477008, -7.202211897))
            make_face()
            with BuildLine():
                ThreePointArc((-47.7, -5), (-48.153909146, -3.628158697), (-49.336477008, -2.797788103))
                Line((-49.336477008, -2.797788103), (-49.336477008, -7.202211897))
                ThreePointArc((-49.336477008, -7.202211897), (-48.153909146, -6.371841303), (-47.7, -5))
            make_face()
            with BuildLine():
                Line((-49.336477008, -62.202211897), (-49.336477008, -57.797788103))
                ThreePointArc((-49.336477008, -57.797788103), (-52.3, -60), (-49.336477008, -62.202211897))
            make_face()
            with BuildLine():
                ThreePointArc((-47.7, -60), (-48.153909146, -58.628158697), (-49.336477008, -57.797788103))
                Line((-49.336477008, -57.797788103), (-49.336477008, -62.202211897))
                ThreePointArc((-49.336477008, -62.202211897), (-48.153909146, -61.371841303), (-47.7, -60))
            make_face()
            with BuildLine():
                Line((-49.336477008, -117.202211897), (-49.336477008, -112.797788103))
                ThreePointArc((-49.336477008, -112.797788103), (-52.3, -115), (-49.336477008, -117.202211897))
            make_face()
            with BuildLine():
                ThreePointArc((-47.7, -115), (-48.153909146, -113.628158697), (-49.336477008, -112.797788103))
                Line((-49.336477008, -112.797788103), (-49.336477008, -117.202211897))
                ThreePointArc((-49.336477008, -117.202211897), (-48.153909146, -116.371841303), (-47.7, -115))
            make_face()
            with Locations(Location((50, -115, 0), (0, 0, 180))):
                Circle(SKETCH3_4_R)
            with Locations(Location((50, -60, 0), (0, 0, 180))):
                Circle(SKETCH3_4_R)
            with Locations(Location((50, -5, 0), (0, 0, 180))):
                Circle(SKETCH3_4_R)
        extrude(amount=CUT_EXTRUDE2_DIRECTION_2_DEPTH, mode=Mode.SUBTRACT)

    # Fillet2
    fillet2_edges = [part.edges().sort_by_distance(p)[0] for p in [
        (40, 0, 60),
        (-40, 0, 60),
    ]]
    fillet(fillet2_edges, radius=FILLET2_R)


solid = part.part
